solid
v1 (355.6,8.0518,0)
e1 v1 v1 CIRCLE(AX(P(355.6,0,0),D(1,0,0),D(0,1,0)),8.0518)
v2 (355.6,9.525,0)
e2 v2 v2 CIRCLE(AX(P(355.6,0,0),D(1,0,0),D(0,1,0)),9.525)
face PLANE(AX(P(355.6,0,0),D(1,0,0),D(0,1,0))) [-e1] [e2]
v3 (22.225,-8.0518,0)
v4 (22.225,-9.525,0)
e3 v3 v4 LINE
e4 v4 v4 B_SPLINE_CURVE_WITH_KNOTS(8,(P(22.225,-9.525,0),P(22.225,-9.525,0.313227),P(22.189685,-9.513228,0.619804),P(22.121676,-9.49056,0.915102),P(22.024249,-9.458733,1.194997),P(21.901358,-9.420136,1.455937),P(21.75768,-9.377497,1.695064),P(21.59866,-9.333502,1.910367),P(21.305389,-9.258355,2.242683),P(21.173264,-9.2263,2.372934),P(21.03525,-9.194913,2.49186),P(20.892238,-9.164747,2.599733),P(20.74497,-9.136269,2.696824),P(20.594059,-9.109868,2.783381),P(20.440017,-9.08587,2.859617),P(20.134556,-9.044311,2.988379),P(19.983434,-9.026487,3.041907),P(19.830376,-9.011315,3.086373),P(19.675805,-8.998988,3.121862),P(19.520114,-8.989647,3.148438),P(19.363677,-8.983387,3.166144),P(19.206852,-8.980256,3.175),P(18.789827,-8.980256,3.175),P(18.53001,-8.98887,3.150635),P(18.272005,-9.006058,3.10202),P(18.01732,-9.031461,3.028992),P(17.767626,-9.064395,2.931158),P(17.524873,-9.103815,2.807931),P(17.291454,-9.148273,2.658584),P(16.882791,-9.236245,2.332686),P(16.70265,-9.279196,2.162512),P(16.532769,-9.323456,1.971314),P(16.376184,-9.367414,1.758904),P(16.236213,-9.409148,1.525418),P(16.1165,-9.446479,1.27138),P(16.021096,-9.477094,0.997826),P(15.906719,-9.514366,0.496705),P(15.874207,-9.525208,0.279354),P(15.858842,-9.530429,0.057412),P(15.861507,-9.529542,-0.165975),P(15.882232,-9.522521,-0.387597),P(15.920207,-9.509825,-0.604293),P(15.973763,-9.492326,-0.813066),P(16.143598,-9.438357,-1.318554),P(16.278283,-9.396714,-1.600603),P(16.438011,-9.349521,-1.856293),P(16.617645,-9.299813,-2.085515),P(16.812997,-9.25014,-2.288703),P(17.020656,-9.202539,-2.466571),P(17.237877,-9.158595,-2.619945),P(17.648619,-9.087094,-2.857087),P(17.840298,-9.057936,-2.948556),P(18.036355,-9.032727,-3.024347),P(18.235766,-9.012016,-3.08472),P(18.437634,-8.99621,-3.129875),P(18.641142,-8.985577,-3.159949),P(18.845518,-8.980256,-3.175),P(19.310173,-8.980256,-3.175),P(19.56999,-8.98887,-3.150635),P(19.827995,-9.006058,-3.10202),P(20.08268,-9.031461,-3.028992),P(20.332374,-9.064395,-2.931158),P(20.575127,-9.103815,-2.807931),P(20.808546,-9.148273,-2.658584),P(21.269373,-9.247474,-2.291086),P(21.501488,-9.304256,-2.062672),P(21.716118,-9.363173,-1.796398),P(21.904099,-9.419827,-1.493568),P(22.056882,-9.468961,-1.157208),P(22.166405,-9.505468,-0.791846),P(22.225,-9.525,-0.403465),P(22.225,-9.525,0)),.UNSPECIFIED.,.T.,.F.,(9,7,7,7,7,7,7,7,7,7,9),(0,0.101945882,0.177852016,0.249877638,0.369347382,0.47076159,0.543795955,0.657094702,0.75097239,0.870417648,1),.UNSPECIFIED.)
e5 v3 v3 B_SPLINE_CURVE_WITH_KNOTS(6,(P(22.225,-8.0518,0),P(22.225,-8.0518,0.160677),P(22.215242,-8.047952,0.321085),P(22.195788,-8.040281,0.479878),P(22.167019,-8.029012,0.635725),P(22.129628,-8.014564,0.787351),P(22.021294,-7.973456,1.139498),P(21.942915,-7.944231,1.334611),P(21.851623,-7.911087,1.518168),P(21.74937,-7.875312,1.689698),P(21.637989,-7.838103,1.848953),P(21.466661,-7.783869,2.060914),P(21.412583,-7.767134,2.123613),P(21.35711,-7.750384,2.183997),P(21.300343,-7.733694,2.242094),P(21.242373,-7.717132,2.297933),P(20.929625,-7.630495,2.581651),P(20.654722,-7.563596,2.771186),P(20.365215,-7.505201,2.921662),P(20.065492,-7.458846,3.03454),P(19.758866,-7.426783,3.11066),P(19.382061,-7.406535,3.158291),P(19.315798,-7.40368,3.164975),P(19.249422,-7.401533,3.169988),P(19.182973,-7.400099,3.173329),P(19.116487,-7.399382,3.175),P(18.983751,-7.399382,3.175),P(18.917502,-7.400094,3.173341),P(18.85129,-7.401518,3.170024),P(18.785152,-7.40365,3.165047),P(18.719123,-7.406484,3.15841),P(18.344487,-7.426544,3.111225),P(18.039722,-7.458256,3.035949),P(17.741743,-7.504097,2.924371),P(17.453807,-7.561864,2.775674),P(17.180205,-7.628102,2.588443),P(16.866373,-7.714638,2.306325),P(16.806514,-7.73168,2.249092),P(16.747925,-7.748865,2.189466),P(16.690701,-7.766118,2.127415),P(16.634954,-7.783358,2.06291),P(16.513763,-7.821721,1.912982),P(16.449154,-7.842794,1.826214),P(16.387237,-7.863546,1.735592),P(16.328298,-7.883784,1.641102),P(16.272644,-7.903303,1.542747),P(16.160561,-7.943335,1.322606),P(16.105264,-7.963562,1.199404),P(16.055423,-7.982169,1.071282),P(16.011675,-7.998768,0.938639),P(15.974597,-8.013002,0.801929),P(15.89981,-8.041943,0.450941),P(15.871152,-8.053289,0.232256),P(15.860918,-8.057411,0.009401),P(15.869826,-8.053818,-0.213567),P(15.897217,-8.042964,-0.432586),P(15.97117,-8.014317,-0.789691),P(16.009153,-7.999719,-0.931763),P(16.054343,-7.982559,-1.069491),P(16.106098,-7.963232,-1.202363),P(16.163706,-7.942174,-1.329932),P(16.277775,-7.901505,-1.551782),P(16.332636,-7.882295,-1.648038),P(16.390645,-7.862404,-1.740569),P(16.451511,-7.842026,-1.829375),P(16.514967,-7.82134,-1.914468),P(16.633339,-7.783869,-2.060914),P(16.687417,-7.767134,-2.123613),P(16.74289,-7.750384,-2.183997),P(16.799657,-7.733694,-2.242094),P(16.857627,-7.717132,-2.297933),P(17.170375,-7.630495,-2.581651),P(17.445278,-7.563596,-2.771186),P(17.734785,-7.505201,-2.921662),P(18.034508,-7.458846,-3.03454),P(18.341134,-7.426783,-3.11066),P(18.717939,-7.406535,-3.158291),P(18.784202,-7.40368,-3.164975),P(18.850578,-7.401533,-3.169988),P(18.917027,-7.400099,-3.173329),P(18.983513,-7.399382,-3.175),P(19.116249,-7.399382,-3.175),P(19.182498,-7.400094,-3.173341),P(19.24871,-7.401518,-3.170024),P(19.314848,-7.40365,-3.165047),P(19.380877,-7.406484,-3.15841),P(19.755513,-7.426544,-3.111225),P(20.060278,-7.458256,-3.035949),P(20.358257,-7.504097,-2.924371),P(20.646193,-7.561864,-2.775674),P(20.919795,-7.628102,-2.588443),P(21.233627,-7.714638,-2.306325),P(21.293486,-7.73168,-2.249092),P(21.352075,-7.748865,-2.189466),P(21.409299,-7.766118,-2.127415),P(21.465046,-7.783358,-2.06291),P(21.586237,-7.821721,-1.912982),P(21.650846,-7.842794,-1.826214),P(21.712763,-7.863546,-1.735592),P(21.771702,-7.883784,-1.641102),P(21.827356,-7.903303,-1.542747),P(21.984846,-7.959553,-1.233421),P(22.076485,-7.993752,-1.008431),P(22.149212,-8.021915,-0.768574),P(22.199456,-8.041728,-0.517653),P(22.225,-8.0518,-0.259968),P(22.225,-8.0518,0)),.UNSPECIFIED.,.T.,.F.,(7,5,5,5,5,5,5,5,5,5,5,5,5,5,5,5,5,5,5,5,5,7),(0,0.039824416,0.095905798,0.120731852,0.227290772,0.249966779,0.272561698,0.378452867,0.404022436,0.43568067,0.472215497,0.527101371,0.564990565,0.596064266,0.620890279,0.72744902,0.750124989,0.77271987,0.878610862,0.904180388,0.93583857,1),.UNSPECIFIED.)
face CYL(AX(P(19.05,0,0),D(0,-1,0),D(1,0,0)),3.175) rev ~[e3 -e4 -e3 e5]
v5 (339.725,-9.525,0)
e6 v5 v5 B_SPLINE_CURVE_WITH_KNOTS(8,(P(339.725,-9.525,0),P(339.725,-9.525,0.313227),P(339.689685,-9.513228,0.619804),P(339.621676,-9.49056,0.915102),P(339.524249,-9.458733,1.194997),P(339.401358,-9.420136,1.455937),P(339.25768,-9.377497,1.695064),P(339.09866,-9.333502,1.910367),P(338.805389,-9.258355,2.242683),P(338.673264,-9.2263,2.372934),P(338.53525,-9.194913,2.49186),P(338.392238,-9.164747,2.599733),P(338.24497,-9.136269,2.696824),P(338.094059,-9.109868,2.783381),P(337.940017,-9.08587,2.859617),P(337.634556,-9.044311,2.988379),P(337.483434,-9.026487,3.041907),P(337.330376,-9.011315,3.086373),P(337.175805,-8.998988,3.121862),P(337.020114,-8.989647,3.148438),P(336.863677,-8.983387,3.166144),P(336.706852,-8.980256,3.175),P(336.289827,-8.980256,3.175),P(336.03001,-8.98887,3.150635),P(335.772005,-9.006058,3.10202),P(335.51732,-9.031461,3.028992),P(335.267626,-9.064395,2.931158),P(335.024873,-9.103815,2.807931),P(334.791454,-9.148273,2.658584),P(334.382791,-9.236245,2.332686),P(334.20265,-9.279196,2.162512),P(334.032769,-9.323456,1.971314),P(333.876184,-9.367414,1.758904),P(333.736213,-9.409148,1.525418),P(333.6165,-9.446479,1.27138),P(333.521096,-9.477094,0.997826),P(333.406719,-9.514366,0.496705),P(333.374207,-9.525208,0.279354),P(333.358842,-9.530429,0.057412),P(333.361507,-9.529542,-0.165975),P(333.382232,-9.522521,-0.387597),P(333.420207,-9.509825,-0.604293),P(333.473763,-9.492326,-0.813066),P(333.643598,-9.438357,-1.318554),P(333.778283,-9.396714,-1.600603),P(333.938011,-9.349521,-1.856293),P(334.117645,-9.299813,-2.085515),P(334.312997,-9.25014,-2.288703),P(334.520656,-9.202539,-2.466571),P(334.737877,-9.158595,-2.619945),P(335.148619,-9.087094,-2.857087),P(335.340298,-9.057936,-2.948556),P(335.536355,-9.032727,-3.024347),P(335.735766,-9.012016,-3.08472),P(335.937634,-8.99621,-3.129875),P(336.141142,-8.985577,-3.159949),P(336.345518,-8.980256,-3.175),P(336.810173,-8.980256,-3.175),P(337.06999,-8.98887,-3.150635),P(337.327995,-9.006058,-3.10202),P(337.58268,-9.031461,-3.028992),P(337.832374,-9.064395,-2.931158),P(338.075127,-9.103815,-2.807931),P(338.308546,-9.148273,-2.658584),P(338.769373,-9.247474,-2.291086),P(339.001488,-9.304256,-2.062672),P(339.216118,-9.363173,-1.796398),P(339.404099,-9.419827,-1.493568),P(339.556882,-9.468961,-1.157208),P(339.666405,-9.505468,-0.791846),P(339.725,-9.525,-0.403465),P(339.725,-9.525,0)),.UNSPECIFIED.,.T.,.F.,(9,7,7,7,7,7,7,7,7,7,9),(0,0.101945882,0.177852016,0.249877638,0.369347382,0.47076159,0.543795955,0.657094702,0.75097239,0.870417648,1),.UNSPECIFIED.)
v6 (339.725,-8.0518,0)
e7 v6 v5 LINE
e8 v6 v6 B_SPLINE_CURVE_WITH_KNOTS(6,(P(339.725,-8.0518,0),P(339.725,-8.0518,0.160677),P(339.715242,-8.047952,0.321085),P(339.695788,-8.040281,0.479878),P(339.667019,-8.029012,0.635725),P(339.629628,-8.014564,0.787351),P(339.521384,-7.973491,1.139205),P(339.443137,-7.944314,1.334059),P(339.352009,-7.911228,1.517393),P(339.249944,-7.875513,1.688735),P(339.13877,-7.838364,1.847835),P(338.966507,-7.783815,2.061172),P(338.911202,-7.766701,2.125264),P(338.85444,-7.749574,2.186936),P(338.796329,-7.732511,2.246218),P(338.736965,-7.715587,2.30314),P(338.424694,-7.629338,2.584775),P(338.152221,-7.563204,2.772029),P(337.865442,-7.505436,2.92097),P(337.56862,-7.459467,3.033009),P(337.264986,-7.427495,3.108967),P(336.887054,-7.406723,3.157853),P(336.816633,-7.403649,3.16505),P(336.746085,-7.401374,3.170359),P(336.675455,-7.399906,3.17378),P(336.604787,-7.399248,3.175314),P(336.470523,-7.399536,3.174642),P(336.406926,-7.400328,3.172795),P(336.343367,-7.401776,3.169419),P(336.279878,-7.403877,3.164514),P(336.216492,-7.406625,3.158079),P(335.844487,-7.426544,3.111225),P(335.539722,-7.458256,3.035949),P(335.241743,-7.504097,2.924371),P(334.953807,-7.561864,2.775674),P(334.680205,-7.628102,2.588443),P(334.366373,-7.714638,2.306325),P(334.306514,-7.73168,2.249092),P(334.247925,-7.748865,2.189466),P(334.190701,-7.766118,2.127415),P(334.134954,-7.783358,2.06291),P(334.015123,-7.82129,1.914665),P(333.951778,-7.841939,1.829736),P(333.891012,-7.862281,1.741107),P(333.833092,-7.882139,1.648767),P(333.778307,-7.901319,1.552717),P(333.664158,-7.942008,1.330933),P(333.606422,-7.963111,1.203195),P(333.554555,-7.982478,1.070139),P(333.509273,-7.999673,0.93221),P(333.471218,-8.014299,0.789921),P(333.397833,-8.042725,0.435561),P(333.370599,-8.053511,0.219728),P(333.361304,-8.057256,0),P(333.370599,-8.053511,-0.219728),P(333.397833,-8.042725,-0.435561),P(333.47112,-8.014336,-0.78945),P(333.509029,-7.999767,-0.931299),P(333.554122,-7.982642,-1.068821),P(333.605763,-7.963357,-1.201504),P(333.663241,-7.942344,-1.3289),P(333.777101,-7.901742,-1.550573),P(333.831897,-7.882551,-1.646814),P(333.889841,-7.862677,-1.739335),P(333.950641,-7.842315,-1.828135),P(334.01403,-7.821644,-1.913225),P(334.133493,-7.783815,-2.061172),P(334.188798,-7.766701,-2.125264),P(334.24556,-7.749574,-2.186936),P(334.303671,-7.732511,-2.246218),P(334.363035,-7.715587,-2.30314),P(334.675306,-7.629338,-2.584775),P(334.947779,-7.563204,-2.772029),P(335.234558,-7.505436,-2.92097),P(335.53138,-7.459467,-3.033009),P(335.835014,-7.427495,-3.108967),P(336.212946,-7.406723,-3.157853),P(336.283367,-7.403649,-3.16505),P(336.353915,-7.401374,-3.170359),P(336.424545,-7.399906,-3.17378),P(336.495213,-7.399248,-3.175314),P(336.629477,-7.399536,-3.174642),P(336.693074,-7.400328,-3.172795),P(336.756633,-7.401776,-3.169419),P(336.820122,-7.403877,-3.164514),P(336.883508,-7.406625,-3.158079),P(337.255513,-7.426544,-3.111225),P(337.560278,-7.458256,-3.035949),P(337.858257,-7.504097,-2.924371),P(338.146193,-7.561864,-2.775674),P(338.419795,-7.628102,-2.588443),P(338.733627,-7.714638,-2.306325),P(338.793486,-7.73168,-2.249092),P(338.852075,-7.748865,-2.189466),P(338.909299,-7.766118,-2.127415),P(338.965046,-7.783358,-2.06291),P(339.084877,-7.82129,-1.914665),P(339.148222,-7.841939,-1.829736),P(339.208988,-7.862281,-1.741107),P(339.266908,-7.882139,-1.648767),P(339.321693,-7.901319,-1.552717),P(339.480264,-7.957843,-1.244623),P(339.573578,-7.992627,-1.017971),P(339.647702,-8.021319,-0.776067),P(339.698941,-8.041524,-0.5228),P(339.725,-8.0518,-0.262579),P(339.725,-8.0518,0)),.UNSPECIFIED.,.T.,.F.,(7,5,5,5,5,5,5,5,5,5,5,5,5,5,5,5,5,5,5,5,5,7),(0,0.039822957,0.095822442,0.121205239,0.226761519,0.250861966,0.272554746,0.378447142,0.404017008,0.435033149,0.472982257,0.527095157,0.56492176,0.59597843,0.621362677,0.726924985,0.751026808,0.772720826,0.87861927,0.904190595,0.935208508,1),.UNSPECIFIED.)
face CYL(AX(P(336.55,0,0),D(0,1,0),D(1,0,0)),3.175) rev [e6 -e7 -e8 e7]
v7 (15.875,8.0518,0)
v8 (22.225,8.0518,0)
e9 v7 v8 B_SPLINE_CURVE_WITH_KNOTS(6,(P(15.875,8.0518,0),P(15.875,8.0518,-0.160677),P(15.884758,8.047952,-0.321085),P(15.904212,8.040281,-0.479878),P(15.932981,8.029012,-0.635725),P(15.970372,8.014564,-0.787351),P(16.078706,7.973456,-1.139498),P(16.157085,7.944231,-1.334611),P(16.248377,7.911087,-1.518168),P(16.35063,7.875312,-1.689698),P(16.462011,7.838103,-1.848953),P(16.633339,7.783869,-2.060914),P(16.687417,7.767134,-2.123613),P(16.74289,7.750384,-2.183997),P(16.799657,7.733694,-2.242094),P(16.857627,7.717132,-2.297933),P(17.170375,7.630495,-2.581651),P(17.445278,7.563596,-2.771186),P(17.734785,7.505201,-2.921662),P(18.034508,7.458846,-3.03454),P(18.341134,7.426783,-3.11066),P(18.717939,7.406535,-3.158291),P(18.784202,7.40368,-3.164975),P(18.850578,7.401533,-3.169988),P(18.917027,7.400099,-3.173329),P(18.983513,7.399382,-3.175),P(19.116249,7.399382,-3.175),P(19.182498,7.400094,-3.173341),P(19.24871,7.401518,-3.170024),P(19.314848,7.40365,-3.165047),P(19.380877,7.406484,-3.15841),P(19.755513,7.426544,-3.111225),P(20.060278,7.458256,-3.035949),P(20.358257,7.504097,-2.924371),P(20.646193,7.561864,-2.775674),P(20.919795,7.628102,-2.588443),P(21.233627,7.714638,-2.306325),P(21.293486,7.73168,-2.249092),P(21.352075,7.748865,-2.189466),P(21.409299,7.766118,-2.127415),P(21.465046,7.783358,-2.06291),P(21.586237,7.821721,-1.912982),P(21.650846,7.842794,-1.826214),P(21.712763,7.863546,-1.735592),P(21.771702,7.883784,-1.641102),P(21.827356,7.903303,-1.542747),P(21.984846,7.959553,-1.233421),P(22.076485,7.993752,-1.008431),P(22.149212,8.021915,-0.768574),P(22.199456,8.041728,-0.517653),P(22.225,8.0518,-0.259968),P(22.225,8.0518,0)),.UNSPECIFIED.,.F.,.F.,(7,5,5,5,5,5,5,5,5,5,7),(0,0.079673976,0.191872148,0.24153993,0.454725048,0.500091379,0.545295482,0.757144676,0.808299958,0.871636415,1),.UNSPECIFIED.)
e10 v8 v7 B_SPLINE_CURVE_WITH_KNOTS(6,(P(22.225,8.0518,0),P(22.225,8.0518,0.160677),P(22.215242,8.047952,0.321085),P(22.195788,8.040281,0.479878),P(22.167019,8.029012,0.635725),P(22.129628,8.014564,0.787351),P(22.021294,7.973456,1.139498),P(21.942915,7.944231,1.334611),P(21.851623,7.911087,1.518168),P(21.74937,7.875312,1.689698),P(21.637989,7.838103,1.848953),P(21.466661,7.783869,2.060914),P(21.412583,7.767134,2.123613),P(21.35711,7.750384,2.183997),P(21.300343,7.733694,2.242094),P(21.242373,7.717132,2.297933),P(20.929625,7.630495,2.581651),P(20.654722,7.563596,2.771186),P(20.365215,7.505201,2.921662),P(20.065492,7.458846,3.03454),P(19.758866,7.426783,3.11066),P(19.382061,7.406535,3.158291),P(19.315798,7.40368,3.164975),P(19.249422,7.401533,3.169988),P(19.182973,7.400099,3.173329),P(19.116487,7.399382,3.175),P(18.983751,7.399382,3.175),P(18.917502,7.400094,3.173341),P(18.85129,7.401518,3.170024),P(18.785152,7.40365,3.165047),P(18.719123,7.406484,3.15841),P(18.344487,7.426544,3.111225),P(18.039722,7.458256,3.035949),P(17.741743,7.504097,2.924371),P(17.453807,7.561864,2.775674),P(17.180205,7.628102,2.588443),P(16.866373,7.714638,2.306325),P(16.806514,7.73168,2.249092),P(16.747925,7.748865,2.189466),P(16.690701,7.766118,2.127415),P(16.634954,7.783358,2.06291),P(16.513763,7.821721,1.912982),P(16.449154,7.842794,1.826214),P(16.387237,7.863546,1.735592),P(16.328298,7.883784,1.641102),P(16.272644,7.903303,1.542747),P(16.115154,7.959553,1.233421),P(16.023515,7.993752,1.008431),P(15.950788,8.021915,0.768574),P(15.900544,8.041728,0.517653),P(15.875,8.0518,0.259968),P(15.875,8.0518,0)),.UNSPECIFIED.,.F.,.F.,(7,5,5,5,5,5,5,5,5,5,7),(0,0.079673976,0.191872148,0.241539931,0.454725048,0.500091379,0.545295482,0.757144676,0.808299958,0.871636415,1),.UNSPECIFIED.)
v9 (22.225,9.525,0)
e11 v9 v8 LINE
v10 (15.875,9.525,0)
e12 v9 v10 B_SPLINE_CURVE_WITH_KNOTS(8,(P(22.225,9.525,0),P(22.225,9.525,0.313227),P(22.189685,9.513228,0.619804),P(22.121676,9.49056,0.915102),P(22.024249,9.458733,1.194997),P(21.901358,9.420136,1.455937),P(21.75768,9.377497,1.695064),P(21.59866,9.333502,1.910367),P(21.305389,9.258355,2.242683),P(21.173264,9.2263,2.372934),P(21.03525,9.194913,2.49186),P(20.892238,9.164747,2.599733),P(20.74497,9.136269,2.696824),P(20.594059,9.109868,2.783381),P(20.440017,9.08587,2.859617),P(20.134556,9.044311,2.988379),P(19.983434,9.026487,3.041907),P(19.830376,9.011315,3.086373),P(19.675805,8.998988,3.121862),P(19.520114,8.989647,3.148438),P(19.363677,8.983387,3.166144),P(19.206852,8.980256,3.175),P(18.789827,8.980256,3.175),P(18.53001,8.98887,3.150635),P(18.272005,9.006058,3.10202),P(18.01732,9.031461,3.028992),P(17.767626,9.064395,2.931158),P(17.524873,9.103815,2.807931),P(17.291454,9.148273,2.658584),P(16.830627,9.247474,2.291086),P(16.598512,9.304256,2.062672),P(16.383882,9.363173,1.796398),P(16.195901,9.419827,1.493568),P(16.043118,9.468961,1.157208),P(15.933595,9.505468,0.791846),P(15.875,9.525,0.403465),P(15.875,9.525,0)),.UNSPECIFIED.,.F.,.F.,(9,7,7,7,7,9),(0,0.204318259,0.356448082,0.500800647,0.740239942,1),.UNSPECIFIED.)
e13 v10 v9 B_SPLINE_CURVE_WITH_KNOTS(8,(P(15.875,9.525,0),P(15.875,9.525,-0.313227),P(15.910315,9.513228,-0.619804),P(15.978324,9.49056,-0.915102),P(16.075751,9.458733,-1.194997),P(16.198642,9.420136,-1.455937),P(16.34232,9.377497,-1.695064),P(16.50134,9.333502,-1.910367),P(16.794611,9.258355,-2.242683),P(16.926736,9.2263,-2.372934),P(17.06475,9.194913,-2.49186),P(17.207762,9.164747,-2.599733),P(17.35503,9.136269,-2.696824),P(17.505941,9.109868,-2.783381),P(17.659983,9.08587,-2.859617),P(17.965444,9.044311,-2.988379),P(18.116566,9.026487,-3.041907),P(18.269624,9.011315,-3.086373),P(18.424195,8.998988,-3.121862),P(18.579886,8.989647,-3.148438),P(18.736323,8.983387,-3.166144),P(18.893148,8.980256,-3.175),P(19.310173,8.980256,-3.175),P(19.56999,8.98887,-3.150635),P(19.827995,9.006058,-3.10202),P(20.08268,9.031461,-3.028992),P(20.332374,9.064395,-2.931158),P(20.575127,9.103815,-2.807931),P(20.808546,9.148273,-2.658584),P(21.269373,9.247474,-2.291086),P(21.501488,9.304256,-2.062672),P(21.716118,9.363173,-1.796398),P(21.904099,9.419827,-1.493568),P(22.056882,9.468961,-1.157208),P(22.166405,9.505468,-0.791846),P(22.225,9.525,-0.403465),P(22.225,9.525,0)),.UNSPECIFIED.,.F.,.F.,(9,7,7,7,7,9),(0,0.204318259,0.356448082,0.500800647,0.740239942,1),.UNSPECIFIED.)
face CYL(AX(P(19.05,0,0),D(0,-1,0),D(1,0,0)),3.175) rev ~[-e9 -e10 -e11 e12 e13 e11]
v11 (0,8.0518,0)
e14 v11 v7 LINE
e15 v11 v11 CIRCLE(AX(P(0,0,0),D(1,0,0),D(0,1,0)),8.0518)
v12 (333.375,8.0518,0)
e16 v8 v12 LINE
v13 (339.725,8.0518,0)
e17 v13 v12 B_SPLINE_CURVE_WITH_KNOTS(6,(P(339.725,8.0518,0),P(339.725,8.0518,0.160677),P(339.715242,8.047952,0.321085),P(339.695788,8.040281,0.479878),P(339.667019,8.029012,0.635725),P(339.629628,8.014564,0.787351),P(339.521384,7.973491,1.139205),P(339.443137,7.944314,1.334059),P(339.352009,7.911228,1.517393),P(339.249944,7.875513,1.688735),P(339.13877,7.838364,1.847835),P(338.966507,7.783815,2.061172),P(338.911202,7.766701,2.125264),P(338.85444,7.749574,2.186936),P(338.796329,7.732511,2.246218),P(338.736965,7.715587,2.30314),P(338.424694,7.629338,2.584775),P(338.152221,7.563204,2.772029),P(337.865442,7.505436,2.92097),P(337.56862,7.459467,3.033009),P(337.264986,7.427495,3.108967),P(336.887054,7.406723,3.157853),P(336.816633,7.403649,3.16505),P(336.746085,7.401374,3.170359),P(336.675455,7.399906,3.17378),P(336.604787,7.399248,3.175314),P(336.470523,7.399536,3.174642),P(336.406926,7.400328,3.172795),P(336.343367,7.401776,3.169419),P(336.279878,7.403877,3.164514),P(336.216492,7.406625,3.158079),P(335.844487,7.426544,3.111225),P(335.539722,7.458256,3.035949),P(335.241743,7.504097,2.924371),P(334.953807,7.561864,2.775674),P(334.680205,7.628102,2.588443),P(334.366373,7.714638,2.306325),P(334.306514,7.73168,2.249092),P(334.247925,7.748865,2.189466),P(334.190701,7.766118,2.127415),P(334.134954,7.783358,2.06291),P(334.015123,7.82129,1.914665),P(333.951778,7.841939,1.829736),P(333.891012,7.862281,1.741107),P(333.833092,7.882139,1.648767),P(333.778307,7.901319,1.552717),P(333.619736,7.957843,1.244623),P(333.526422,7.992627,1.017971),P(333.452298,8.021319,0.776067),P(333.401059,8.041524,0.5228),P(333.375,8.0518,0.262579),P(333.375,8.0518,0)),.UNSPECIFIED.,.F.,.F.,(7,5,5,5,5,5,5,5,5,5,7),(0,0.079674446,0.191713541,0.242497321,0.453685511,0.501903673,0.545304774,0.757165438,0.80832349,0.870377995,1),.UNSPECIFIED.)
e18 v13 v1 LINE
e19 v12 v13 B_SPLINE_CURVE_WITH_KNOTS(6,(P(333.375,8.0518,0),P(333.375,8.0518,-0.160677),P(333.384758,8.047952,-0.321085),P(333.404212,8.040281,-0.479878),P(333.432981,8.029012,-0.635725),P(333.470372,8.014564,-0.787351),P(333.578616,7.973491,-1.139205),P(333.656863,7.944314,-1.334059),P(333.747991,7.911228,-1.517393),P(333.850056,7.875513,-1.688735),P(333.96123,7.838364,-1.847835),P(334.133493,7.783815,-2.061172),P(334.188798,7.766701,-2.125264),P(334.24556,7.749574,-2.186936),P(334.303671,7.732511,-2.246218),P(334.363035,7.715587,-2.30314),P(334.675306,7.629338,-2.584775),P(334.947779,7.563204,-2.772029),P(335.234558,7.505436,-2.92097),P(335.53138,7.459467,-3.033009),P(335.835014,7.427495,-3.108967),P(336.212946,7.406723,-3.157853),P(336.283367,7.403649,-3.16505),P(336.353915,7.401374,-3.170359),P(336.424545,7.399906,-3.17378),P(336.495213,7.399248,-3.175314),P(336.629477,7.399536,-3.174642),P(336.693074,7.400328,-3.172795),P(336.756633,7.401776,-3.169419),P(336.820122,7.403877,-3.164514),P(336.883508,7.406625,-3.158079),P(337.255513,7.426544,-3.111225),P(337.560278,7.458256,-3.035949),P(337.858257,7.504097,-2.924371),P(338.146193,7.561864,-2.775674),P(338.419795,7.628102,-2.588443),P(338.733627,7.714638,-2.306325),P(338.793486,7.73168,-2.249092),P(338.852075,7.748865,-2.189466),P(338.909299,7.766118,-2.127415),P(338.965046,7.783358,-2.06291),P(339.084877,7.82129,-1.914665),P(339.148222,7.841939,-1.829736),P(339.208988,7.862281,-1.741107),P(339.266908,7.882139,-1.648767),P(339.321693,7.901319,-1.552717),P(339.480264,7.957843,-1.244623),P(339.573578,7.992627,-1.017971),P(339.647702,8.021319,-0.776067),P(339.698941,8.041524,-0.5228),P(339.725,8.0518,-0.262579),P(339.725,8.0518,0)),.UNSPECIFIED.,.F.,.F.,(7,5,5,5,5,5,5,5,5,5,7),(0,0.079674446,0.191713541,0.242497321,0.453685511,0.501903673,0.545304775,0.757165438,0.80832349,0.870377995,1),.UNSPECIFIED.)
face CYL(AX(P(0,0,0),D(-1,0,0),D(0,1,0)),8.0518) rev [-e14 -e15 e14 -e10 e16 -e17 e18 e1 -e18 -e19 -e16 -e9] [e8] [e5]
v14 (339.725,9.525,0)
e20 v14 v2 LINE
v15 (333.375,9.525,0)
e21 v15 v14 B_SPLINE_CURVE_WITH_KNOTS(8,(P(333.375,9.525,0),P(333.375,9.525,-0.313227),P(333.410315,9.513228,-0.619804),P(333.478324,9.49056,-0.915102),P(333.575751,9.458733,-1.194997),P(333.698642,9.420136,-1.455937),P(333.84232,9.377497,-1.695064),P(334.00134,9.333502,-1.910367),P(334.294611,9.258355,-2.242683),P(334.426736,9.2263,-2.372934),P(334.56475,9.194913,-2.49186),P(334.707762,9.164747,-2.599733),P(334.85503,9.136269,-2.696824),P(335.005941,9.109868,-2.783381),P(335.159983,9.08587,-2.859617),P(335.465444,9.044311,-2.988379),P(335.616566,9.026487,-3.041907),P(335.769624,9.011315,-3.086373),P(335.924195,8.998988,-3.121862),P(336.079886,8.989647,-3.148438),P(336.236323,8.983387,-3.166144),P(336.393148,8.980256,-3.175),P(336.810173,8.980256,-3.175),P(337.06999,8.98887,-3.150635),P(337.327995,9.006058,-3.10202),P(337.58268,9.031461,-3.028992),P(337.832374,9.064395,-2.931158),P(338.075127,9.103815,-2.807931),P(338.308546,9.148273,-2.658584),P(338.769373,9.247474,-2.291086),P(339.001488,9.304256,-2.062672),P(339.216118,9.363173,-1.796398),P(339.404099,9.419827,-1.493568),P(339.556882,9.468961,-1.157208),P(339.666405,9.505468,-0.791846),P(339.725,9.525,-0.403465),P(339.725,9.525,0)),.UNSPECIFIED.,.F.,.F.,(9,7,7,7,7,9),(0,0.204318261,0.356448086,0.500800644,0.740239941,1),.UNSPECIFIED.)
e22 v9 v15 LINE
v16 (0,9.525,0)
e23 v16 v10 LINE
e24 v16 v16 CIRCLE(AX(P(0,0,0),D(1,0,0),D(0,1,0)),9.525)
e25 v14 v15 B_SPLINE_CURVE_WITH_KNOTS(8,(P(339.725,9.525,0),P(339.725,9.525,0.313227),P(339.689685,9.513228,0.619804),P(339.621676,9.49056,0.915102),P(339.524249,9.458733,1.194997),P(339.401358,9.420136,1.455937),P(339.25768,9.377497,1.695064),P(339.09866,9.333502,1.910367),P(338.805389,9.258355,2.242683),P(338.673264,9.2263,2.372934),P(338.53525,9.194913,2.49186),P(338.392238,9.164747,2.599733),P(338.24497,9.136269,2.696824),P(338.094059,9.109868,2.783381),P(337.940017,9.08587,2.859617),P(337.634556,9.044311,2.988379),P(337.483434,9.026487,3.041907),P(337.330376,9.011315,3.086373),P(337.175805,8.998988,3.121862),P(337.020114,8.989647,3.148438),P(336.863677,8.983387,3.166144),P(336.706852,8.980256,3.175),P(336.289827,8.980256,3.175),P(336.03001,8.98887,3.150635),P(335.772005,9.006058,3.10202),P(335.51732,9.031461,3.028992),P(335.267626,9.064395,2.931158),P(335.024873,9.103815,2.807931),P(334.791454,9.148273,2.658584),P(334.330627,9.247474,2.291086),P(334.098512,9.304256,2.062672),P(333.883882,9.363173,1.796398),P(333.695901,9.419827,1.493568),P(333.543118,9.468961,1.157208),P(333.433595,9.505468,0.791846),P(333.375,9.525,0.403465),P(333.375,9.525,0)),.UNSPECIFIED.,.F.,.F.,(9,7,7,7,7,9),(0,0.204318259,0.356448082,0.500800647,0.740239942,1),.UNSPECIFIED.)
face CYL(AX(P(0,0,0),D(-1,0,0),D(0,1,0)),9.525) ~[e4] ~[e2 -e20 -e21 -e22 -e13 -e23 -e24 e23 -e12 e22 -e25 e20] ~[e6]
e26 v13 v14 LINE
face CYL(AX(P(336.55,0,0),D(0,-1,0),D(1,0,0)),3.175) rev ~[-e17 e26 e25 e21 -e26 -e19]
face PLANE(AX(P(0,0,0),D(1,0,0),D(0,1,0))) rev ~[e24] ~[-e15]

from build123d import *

# Parameters (mm, degrees)
F0_R     = 9.525
F0_R_2   = 8.0518
F1_DEPTH = 355.6
F2_R     = 3.175
F3_DEPTH = 38.1


with BuildPart() as f1:
    # F0 (on Right) → F1 (new body)
    with BuildSketch(Plane.YZ):
        Circle(F0_R)
        Circle(F0_R_2, mode=Mode.SUBTRACT)
    extrude(amount=F1_DEPTH)

    # F2 (on Front) → F3 (cut, symmetric)
    with BuildSketch(Plane.XZ):
        with Locations((336.55, 0)):
            Circle(F2_R)
        with Locations((19.05, 0)):
            Circle(F2_R)
    extrude(amount=F3_DEPTH, both=True, mode=Mode.SUBTRACT)


solid = f1.part
